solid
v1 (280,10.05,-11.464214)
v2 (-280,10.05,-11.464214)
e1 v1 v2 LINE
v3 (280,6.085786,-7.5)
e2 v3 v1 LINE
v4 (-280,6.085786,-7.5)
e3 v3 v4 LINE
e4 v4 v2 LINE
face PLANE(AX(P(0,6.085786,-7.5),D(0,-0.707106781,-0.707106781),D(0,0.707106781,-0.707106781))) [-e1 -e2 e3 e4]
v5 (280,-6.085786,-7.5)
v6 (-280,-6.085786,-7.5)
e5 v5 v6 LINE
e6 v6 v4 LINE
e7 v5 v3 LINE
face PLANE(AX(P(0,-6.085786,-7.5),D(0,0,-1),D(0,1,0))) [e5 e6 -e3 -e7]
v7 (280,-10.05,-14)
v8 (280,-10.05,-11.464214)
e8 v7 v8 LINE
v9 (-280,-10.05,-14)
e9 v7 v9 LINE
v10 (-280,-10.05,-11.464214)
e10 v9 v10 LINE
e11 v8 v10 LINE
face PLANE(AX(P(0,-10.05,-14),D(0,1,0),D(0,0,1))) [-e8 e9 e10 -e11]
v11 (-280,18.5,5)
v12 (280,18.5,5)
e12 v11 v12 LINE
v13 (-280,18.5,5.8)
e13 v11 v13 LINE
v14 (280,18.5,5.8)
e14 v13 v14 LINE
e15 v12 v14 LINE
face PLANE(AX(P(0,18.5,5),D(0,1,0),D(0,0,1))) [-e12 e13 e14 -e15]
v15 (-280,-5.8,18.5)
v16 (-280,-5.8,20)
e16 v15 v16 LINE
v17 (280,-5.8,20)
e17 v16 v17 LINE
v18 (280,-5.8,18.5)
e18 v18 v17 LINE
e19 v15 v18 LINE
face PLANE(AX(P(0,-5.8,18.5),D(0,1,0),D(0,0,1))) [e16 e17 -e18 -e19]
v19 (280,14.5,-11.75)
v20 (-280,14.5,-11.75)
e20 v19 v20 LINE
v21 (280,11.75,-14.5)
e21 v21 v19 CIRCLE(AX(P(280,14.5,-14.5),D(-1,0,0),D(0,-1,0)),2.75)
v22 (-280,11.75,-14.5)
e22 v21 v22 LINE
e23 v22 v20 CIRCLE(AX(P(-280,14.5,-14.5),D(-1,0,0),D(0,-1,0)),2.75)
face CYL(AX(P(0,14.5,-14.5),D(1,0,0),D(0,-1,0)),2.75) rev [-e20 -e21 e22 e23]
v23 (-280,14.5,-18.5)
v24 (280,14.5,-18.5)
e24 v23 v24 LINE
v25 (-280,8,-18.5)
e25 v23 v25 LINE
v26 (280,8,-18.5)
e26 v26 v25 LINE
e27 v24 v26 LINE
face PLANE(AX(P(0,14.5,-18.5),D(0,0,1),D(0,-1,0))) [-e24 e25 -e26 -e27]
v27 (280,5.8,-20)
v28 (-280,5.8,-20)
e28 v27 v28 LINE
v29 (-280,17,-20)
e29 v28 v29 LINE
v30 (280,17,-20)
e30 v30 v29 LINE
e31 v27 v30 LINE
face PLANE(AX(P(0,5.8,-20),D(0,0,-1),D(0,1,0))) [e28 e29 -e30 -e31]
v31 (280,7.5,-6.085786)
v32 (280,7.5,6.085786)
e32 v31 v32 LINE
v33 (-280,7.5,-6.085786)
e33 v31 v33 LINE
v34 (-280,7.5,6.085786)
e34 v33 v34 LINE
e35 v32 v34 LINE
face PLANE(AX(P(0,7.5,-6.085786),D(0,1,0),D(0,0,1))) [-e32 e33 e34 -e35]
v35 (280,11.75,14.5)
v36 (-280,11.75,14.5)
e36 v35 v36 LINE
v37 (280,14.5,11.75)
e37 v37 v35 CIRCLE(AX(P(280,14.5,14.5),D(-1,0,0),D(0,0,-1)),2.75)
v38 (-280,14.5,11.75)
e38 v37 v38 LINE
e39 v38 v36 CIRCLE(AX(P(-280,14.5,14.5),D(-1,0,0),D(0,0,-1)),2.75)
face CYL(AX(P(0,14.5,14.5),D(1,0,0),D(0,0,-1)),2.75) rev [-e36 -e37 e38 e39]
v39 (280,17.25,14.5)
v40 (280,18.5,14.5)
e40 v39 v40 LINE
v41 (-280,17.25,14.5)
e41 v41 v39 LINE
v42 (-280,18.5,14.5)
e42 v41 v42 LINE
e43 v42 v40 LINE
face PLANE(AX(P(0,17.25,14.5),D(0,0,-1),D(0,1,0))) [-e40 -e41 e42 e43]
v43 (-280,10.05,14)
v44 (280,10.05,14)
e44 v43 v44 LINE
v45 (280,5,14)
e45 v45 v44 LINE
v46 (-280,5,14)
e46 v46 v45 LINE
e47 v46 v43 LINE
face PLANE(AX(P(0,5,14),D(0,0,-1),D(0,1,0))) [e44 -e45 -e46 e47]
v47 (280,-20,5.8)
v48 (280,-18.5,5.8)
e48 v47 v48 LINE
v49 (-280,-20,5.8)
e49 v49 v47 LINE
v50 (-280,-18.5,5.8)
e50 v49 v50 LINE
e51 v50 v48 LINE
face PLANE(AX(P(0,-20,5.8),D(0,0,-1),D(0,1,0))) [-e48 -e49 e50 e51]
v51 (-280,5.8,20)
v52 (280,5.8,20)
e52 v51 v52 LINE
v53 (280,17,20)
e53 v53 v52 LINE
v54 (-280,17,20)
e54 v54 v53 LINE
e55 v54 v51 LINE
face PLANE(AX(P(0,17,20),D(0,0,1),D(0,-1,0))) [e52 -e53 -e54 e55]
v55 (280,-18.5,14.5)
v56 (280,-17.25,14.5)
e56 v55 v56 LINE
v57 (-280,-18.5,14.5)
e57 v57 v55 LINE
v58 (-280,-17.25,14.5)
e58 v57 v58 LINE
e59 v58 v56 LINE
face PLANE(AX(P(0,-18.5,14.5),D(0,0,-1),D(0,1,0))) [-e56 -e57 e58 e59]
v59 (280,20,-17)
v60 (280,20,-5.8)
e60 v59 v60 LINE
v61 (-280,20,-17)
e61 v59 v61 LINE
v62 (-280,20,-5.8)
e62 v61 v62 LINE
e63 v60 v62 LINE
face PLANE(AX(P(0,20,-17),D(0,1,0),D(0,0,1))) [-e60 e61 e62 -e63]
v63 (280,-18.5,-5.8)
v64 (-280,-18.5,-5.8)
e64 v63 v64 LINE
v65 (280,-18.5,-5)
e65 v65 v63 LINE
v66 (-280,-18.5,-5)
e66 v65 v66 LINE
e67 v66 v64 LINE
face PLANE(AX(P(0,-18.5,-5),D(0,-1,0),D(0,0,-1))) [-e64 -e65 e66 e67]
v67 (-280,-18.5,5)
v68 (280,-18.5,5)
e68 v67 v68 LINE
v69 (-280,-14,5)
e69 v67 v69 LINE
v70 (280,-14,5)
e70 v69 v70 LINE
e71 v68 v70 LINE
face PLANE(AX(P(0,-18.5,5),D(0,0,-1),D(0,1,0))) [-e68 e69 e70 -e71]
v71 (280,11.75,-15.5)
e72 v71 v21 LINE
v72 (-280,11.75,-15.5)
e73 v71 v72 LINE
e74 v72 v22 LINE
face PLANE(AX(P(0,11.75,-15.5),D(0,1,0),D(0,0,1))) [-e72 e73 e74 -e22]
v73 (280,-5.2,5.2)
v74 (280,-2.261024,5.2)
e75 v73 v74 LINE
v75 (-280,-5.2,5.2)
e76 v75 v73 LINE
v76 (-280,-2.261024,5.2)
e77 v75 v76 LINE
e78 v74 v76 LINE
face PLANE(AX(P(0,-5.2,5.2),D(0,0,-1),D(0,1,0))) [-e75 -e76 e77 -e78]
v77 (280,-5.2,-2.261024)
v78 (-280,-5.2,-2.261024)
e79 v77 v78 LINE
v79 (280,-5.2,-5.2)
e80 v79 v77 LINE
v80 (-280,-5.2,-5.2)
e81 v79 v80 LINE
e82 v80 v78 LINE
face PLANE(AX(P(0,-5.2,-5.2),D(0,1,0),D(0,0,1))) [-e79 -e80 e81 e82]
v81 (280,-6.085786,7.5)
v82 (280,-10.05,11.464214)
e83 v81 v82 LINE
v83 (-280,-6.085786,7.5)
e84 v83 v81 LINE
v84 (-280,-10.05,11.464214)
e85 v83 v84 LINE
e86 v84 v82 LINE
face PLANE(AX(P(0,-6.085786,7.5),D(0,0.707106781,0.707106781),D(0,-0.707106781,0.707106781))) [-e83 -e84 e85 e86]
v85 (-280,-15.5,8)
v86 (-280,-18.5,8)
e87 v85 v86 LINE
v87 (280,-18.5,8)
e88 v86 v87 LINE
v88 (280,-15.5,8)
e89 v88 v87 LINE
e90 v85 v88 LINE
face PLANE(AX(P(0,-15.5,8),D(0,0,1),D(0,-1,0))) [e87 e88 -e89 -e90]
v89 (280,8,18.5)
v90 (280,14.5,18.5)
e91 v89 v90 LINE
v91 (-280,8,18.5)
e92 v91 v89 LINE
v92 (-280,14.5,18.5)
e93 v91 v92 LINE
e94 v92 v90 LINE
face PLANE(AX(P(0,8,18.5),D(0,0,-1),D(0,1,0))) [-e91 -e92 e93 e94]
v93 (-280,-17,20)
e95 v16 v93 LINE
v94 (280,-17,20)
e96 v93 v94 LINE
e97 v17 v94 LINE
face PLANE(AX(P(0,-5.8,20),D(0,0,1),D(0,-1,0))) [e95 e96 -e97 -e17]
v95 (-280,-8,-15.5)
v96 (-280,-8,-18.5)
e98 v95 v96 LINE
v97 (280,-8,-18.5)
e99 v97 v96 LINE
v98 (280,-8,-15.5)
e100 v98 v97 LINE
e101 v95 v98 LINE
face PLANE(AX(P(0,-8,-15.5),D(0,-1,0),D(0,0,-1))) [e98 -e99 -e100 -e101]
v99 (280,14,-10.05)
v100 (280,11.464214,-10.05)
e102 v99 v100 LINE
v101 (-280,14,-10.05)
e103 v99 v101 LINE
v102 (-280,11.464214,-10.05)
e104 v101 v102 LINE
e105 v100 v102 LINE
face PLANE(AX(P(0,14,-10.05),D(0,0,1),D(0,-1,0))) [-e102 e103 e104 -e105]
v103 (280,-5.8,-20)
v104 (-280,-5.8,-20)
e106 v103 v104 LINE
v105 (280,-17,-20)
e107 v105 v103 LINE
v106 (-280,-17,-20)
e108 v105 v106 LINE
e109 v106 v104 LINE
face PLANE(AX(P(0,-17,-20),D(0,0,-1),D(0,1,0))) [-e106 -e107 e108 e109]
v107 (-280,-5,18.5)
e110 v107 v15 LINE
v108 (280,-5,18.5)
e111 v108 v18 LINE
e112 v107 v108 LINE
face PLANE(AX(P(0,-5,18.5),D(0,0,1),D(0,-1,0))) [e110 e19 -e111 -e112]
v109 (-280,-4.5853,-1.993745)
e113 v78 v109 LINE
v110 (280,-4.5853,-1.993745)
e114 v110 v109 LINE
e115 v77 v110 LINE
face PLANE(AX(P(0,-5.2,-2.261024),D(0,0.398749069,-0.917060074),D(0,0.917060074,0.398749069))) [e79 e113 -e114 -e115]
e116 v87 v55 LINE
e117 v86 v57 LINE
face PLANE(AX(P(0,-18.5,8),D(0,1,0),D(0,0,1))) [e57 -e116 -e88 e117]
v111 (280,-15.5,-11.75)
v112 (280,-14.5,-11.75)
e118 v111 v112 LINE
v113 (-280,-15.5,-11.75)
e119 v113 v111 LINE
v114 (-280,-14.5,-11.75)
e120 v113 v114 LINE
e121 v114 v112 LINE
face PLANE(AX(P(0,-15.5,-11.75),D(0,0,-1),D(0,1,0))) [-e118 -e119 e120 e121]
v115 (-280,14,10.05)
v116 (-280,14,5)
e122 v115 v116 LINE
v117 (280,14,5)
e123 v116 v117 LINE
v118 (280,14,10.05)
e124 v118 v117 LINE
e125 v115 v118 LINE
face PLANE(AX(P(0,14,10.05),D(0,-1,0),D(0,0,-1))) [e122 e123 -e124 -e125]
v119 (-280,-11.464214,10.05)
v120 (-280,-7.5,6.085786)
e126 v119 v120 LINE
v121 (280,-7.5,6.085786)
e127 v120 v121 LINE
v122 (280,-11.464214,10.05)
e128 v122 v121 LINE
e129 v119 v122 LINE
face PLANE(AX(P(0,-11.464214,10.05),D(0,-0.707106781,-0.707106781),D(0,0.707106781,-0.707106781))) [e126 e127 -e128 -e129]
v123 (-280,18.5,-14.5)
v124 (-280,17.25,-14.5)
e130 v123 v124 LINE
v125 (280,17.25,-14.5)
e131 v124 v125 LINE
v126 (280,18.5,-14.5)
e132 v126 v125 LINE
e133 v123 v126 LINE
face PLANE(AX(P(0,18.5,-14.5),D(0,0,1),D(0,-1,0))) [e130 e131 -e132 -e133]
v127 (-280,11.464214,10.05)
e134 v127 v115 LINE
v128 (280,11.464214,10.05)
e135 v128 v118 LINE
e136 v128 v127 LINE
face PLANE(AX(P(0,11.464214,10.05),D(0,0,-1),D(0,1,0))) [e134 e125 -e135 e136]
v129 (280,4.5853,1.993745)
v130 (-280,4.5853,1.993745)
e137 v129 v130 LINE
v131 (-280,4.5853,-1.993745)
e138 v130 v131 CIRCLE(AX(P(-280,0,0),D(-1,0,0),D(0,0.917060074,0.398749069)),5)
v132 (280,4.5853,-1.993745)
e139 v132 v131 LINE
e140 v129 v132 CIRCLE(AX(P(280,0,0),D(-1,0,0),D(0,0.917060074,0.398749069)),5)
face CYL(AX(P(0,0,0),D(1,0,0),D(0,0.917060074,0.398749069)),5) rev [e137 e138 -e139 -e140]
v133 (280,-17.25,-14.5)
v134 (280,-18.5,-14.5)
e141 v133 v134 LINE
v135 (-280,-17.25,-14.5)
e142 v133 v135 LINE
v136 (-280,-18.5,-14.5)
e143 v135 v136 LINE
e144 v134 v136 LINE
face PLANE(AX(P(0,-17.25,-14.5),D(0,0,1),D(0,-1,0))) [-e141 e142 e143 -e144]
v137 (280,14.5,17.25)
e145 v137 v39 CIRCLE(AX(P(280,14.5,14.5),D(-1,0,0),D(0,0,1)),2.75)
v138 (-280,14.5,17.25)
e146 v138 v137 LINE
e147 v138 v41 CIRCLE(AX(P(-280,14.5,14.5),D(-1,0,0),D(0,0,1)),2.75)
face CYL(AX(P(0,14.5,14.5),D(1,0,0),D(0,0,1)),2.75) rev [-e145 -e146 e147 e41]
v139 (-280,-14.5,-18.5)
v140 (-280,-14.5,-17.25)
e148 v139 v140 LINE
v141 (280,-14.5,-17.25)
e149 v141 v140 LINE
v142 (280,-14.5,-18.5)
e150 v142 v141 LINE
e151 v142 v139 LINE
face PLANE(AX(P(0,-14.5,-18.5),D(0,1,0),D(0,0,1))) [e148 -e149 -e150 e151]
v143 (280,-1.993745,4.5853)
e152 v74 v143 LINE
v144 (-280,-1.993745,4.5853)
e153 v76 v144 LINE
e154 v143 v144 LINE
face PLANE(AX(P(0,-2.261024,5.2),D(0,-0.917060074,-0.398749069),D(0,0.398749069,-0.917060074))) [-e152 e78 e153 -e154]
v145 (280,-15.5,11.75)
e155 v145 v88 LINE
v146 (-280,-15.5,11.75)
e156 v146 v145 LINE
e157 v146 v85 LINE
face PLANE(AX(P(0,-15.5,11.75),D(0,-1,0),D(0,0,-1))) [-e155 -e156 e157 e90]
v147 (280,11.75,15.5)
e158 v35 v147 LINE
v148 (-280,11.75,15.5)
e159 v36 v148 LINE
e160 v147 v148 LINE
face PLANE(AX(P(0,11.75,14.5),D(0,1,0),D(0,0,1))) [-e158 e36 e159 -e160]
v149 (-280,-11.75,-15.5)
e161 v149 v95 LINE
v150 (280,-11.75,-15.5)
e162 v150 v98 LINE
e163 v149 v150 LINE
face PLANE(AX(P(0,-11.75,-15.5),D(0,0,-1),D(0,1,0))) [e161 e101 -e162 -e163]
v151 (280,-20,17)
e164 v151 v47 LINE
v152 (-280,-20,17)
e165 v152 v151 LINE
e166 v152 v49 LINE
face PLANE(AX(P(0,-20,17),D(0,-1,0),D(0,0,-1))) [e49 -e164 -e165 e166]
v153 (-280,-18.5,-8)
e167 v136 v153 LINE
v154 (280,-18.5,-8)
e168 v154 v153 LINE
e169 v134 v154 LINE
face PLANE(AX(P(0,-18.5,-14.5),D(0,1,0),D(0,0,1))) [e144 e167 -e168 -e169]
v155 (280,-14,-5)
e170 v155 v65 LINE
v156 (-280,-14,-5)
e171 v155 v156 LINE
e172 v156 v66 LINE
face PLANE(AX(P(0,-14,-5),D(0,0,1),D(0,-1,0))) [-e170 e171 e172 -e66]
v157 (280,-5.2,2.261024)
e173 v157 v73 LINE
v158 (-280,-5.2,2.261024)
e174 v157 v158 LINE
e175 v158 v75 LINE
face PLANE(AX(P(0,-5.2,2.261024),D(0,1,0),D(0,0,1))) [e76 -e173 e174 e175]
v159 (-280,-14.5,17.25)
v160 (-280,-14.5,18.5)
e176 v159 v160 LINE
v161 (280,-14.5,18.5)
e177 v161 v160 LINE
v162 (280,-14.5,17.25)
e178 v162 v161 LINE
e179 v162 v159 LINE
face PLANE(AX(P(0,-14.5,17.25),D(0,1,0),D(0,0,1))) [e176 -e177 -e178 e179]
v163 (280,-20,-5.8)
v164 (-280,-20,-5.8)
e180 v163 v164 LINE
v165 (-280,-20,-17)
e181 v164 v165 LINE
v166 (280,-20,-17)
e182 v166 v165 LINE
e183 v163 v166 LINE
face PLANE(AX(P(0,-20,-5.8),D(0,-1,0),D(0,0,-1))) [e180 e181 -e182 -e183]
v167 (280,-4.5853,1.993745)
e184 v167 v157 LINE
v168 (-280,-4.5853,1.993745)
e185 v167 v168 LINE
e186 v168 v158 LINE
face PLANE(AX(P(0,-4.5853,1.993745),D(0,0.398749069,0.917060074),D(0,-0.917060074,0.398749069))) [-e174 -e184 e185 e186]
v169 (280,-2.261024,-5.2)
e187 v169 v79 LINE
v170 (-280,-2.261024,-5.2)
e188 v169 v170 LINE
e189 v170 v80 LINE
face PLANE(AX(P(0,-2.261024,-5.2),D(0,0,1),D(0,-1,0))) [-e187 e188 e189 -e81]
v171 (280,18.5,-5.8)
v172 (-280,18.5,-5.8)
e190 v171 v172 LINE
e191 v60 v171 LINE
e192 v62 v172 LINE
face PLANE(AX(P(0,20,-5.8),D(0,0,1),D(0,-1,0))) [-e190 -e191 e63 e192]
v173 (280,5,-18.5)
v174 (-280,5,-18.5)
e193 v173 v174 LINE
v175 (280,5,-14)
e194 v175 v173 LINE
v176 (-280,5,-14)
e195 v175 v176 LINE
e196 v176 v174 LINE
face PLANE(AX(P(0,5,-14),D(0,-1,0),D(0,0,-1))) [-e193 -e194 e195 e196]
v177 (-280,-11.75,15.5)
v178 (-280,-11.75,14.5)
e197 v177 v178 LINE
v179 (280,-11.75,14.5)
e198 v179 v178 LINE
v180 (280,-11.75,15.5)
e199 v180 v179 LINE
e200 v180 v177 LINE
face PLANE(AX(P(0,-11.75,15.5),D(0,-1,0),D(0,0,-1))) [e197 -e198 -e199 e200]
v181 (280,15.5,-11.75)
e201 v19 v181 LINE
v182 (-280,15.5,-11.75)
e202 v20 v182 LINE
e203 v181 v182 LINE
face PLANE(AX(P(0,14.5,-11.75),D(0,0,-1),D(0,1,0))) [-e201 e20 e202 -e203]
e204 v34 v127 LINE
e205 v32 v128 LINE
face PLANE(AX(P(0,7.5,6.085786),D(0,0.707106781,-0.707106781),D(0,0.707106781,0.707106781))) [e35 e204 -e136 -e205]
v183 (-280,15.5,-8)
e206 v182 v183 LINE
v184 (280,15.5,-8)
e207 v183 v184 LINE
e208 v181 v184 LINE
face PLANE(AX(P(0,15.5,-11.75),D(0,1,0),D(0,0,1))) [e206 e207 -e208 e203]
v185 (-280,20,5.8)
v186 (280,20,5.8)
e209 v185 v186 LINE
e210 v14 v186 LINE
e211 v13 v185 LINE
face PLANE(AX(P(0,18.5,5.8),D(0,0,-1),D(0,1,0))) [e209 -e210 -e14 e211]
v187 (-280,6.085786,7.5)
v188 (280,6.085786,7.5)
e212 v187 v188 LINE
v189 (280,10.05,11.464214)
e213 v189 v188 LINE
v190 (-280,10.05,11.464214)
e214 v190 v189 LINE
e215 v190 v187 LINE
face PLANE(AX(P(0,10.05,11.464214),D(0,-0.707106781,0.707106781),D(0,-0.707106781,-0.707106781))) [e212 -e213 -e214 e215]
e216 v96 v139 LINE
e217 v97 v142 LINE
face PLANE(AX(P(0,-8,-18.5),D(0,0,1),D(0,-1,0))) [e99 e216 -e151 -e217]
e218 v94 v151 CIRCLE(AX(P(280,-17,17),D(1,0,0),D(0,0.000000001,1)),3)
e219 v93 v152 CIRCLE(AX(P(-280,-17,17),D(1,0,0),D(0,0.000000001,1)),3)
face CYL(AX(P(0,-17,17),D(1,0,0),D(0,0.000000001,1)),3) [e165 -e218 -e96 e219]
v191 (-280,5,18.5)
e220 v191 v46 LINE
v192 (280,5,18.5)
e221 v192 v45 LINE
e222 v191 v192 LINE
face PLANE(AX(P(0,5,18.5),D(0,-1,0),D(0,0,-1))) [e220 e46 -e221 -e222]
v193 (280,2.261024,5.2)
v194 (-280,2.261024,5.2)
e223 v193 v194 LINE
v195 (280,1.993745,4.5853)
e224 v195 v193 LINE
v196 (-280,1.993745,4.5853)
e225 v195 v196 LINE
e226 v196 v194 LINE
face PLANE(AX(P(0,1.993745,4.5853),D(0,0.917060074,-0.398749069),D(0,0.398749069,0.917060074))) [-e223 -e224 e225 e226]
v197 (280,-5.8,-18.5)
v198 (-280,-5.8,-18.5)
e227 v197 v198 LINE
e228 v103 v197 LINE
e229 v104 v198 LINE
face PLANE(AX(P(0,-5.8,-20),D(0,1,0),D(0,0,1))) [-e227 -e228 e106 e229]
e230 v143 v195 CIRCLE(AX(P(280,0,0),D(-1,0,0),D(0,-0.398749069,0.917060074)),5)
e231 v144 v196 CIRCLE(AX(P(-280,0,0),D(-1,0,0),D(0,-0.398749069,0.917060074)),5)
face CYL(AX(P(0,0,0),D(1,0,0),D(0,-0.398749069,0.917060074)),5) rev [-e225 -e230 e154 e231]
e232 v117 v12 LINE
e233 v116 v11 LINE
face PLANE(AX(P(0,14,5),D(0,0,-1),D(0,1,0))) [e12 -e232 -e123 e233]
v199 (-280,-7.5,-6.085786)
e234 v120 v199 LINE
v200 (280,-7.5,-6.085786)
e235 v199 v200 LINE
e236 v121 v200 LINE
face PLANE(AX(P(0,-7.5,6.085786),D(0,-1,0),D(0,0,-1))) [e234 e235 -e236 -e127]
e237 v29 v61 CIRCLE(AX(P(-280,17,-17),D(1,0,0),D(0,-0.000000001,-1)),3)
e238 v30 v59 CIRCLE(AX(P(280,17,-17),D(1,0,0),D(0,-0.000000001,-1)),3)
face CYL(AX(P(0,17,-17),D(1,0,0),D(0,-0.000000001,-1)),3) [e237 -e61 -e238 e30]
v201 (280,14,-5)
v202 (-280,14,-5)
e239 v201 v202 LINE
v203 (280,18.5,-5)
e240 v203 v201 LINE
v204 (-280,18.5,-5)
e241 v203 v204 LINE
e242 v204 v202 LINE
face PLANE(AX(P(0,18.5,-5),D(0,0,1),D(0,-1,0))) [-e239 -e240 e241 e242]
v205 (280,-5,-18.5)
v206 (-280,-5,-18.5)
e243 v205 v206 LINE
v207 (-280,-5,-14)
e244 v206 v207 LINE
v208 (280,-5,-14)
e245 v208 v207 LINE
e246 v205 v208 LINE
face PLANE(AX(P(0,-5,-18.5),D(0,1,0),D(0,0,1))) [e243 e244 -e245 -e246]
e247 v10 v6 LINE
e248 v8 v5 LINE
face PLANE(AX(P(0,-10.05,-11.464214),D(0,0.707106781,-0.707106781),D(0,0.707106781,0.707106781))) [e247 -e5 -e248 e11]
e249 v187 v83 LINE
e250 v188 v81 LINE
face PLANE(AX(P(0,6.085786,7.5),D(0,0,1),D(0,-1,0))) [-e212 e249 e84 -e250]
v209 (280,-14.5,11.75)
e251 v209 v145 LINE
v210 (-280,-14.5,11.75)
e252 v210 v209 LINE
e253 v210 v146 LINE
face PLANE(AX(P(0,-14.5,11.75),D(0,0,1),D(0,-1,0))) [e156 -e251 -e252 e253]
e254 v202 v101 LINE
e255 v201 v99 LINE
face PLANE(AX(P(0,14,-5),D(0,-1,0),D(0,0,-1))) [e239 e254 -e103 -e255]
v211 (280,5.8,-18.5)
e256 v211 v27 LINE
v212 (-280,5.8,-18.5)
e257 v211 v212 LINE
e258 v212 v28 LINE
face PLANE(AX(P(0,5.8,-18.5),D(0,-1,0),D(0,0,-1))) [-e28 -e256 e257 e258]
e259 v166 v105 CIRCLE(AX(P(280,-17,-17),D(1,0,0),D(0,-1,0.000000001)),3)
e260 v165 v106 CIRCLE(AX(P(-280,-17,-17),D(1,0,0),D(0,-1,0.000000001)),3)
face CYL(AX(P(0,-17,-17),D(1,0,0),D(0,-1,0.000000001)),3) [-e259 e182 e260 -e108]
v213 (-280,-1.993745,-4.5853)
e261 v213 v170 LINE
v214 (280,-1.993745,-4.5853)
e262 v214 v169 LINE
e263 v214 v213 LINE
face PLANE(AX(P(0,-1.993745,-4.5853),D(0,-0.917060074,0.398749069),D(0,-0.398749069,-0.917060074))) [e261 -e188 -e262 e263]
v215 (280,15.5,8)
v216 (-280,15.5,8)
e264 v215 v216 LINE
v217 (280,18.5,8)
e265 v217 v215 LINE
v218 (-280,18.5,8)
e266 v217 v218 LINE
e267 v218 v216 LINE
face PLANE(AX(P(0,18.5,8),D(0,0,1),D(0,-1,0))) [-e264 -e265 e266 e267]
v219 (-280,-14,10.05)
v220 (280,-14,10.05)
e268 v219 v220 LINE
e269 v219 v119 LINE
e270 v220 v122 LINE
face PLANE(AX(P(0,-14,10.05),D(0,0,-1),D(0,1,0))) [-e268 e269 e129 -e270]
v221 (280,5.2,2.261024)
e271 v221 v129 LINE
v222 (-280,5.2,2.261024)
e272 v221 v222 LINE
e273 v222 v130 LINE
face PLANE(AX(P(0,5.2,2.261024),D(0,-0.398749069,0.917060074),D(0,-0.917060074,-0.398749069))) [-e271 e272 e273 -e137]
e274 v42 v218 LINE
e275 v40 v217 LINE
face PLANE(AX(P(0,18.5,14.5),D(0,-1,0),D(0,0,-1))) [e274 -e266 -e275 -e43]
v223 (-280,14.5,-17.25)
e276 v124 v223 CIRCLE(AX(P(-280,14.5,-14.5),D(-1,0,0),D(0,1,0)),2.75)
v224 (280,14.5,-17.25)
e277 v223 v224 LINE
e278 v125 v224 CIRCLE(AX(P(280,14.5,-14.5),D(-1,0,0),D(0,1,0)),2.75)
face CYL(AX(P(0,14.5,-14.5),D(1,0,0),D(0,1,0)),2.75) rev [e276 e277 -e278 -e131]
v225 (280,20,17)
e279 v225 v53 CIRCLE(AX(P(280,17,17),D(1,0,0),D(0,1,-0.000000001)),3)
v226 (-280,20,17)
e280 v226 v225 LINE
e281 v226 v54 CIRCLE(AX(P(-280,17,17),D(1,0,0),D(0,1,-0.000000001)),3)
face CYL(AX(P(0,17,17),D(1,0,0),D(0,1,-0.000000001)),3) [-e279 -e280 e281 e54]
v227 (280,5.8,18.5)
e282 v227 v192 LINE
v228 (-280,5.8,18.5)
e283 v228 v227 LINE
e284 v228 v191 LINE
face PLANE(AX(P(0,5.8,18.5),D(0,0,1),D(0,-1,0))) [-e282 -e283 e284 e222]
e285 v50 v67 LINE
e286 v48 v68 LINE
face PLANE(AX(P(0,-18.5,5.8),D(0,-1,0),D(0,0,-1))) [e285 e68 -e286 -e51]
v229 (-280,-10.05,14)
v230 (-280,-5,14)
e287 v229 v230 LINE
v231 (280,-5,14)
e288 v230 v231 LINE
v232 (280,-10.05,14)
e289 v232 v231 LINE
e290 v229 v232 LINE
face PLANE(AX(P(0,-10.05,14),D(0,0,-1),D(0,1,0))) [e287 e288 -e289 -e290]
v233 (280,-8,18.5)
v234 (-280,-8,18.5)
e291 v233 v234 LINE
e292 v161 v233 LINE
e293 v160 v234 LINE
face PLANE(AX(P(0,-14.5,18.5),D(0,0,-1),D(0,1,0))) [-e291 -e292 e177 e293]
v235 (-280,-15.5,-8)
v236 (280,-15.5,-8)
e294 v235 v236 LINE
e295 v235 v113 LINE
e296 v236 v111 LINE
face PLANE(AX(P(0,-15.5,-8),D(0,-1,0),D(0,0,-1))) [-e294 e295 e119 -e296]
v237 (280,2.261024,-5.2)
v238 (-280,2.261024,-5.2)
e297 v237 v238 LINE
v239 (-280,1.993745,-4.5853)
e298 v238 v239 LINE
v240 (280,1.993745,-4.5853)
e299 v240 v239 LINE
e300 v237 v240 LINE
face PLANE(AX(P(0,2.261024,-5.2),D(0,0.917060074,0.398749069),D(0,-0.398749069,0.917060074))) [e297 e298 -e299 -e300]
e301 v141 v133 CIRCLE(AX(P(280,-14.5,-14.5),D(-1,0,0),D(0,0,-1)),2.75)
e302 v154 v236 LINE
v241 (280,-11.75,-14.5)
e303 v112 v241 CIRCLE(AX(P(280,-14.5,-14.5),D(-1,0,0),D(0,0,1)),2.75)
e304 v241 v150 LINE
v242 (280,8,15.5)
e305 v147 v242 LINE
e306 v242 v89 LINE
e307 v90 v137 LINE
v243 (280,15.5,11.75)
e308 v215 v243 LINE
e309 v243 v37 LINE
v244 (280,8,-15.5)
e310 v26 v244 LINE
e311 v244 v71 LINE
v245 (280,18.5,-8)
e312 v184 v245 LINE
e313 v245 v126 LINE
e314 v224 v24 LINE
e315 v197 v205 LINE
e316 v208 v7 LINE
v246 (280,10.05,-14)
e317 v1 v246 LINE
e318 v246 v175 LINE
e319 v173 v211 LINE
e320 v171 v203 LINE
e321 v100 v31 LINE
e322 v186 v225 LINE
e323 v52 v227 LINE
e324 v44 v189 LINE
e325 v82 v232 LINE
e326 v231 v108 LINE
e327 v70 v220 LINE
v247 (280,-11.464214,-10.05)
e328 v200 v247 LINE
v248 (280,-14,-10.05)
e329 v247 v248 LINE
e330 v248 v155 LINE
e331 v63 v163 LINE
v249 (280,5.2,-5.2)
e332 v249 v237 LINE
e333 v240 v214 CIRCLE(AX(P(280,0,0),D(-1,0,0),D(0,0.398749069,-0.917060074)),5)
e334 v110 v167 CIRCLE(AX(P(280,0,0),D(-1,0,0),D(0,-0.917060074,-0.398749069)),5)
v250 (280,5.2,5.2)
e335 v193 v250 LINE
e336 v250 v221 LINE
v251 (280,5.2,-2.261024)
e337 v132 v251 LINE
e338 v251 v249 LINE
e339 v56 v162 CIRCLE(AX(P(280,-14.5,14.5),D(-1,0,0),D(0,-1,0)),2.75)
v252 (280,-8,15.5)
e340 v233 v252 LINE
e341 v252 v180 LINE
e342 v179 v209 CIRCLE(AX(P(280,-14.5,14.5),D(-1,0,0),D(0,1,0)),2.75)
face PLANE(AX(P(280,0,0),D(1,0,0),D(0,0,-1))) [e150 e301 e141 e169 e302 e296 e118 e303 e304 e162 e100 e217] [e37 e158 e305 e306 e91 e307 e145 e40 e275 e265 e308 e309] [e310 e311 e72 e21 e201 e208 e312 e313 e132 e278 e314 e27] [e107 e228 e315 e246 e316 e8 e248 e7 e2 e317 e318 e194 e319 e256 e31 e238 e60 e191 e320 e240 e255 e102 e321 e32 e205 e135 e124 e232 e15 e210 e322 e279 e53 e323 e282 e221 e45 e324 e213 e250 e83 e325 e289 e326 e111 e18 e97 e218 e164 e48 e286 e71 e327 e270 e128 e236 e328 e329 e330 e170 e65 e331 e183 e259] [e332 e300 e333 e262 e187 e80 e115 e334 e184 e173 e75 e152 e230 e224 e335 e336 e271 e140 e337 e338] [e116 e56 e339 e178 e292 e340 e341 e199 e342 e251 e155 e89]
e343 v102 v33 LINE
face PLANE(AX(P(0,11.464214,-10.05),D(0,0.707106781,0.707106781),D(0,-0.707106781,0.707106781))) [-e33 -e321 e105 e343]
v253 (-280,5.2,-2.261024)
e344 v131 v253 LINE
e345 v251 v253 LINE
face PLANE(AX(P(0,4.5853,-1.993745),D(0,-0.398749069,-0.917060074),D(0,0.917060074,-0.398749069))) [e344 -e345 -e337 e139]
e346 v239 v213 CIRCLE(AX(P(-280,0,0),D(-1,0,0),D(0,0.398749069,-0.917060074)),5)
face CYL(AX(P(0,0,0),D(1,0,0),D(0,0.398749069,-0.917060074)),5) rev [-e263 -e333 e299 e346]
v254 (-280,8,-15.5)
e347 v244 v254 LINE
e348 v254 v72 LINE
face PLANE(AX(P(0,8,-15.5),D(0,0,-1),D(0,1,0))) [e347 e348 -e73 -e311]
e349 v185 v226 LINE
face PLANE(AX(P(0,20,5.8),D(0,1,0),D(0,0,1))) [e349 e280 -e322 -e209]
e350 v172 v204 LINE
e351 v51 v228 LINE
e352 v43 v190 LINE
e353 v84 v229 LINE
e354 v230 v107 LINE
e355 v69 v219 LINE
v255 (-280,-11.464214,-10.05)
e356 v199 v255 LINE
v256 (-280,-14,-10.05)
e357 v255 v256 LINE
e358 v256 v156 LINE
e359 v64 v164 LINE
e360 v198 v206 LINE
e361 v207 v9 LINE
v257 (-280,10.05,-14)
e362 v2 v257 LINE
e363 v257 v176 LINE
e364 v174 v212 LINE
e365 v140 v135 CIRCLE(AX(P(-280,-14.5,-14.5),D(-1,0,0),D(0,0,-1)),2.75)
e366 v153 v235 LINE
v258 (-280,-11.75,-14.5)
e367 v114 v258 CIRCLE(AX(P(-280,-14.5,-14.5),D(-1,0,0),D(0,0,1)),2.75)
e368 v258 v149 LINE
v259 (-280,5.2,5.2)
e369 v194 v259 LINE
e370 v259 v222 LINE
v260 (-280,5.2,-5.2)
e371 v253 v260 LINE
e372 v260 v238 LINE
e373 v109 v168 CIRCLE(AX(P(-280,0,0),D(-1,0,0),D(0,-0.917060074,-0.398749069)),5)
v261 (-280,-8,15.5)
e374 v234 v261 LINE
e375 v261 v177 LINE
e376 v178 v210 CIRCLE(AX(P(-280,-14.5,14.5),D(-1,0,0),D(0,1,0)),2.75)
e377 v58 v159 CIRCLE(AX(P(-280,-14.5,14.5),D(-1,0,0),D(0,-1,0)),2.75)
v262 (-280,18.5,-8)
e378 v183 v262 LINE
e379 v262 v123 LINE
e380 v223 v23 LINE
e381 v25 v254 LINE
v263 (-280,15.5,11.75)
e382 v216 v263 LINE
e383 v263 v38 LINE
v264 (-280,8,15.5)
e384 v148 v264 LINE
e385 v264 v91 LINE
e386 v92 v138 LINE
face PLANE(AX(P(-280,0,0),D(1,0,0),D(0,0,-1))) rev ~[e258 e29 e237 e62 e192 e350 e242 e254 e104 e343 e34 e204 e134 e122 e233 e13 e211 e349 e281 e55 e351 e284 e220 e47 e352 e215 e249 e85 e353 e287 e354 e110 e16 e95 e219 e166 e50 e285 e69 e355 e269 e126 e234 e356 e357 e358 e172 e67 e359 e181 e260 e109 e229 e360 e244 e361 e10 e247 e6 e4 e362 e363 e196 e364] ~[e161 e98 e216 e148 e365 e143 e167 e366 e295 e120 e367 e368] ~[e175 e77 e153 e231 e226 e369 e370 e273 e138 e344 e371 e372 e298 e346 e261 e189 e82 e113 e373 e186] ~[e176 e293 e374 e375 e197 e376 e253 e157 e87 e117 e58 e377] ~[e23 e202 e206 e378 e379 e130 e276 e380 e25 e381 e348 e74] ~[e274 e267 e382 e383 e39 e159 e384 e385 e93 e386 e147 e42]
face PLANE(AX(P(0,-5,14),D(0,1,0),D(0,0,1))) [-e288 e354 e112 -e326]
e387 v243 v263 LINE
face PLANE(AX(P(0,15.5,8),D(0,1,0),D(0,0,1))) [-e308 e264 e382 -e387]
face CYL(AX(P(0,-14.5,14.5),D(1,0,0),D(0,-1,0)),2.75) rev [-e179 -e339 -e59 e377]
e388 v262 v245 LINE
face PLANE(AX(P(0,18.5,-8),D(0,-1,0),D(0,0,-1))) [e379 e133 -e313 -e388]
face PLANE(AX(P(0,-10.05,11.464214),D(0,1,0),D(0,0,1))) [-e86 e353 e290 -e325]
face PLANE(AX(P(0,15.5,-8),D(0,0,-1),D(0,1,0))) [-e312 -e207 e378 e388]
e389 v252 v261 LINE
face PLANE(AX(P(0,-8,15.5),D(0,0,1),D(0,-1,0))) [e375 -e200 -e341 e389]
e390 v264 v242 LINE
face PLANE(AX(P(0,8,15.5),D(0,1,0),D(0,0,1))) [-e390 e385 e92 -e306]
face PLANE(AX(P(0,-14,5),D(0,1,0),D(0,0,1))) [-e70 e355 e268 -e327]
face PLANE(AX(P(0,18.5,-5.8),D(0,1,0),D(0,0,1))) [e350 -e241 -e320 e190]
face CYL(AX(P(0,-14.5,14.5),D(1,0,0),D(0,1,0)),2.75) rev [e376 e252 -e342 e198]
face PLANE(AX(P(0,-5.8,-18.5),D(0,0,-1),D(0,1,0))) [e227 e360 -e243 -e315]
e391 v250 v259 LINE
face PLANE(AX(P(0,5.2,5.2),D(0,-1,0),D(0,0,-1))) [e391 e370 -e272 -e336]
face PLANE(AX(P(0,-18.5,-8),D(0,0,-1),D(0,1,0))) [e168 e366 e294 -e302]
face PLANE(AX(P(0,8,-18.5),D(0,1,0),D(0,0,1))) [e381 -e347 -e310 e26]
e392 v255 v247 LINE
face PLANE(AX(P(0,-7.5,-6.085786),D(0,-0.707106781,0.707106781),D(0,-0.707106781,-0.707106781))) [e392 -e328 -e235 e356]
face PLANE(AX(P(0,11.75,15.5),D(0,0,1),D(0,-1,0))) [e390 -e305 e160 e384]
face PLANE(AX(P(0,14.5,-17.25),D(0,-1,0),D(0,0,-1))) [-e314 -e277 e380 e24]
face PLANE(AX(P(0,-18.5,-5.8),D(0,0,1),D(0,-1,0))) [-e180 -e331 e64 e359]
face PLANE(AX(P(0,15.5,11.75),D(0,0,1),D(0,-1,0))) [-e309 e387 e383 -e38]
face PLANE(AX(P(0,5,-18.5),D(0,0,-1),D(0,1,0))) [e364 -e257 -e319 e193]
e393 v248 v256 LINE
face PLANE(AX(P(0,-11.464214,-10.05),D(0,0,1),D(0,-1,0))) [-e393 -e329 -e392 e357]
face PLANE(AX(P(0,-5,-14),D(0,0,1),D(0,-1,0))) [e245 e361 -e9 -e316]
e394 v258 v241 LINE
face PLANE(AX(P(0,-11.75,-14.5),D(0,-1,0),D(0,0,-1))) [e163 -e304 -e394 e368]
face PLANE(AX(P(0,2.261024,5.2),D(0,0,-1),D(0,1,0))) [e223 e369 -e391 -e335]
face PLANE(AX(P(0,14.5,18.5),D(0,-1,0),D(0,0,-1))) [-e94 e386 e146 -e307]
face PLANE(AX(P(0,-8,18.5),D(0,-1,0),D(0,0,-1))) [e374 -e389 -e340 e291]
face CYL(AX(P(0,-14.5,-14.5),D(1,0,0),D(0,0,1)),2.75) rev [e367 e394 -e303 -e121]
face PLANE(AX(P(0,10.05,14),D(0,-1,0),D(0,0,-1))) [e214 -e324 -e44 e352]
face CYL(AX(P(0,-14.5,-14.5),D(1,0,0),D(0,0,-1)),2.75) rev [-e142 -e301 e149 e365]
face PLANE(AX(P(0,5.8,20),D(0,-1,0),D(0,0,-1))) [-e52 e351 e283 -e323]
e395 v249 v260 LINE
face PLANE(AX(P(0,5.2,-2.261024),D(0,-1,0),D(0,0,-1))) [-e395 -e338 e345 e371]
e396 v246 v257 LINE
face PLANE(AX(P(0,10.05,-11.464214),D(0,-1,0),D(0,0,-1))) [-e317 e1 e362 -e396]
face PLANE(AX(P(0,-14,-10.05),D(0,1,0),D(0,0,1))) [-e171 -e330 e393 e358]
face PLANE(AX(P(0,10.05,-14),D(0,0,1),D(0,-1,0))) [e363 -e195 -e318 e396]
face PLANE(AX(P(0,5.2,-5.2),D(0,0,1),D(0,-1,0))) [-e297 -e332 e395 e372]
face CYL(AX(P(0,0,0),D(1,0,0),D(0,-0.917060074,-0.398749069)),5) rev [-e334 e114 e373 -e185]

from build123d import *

# Parameters (mm, degrees)
BR_EXTRUDE_DEPTH      = 280
BR_EXTRUDE_DEPTH_BACK = 280


with BuildPart() as part:
    # Sketch2 → BR_Extrude (new body, two sides)
    with BuildSketch(Plane(origin=(0, 0, 0), x_dir=(0, 0, -1), z_dir=(1, 0, 0))) as br_extrude_sk:
        with BuildLine():
            Line((-10.05, 11.464213562), (-10.05, 14))
            Line((-10.05, 14), (-5, 14))
            Line((-5, 14), (-5, 18.5))
            Line((-5, 18.5), (-5.8, 18.5))
            Line((-5.8, 18.5), (-5.8, 20))
            Line((-5.8, 20), (-17, 20))
            ThreePointArc((-17, 20), (-19.121320344, 19.121320344), (-20, 17))
            Line((-20, 17), (-20, 5.8))
            Line((-20, 5.8), (-18.5, 5.8))
            Line((-18.5, 5.8), (-18.5, 5))
            Line((-18.5, 5), (-14, 5))
            Line((-14, 5), (-14, 10.05))
            Line((-14, 10.05), (-11.464213562, 10.05))
            Line((-11.464213562, 10.05), (-7.5, 6.085786438))
            Line((-7.5, 6.085786438), (-7.5, -6.085786438))
            Line((-7.5, -6.085786438), (-11.464213562, -10.05))
            Line((-11.464213562, -10.05), (-14, -10.05))
            Line((-14, -10.05), (-14, -5))
            Line((-14, -5), (-18.5, -5))
            Line((-18.5, -5), (-18.5, -5.8))
            Line((-18.5, -5.8), (-20, -5.8))
            Line((-20, -5.8), (-20, -17))
            ThreePointArc((-20, -17), (-19.121320344, -19.121320344), (-17, -20))
            Line((-17, -20), (-5.8, -20))
            Line((-5.8, -20), (-5.8, -18.5))
            Line((-5.8, -18.5), (-5, -18.5))
            Line((-5, -18.5), (-5, -14))
            Line((-5, -14), (-10.05, -14))
            Line((-10.05, -14), (-10.05, -11.464213562))
            Line((-10.05, -11.464213562), (-6.085786438, -7.5))
            Line((-6.085786438, -7.5), (6.085786438, -7.5))
            Line((6.085786438, -7.5), (10.05, -11.464213562))
            Line((10.05, -11.464213562), (10.05, -14))
            Line((10.05, -14), (5, -14))
            Line((5, -14), (5, -18.5))
            Line((5, -18.5), (5.8, -18.5))
            Line((5.8, -18.5), (5.8, -20))
            Line((5.8, -20), (17, -20))
            ThreePointArc((17, -20), (19.121320344, -19.121320344), (20, -17))
            Line((20, -17), (20, -5.8))
            Line((20, -5.8), (18.5, -5.8))
            Line((18.5, -5.8), (18.5, -5))
            Line((18.5, -5), (14, -5))
            Line((14, -5), (14, -10.05))
            Line((14, -10.05), (11.464213562, -10.05))
            Line((11.464213562, -10.05), (7.5, -6.085786438))
            Line((7.5, -6.085786438), (7.5, 6.085786438))
            Line((7.5, 6.085786438), (11.464213562, 10.05))
            Line((11.464213562, 10.05), (14, 10.05))
            Line((14, 10.05), (14, 5))
            Line((14, 5), (18.5, 5))
            Line((18.5, 5), (18.5, 5.8))
            Line((18.5, 5.8), (20, 5.8))
            Line((20, 5.8), (20, 17))
            ThreePointArc((20, 17), (19.121320344, 19.121320344), (17, 20))
            Line((17, 20), (5.8, 20))
            Line((5.8, 20), (5.8, 18.5))
            Line((5.8, 18.5), (5, 18.5))
            Line((5, 18.5), (5, 14))
            Line((5, 14), (10.05, 14))
            Line((10.05, 14), (10.05, 11.464213562))
            Line((10.05, 11.464213562), (6.085786438, 7.5))
            Line((6.085786438, 7.5), (-6.085786438, 7.5))
            Line((-6.085786438, 7.5), (-10.05, 11.464213562))
        make_face()
        with BuildLine():
            Line((8, 15.5), (8, 18.5))
            Line((8, 18.5), (14.5, 18.5))
            Line((14.5, 18.5), (14.5, 17.25))
            ThreePointArc((14.5, 17.25), (16.444543648, 16.444543648), (17.25, 14.5))
            Line((17.25, 14.5), (18.5, 14.5))
            Line((18.5, 14.5), (18.5, 8))
            Line((18.5, 8), (15.5, 8))
            Line((15.5, 8), (15.5, 11.75))
            Line((15.5, 11.75), (14.5, 11.75))
            ThreePointArc((14.5, 11.75), (12.555456352, 12.555456352), (11.75, 14.5))
            Line((11.75, 14.5), (11.75, 15.5))
            Line((11.75, 15.5), (8, 15.5))
        make_face(mode=Mode.SUBTRACT)
        with BuildLine():
            Line((8, -15.5), (11.75, -15.5))
            Line((11.75, -15.5), (11.75, -14.5))
            ThreePointArc((11.75, -14.5), (12.555456352, -12.555456352), (14.5, -11.75))
            Line((14.5, -11.75), (15.5, -11.75))
            Line((15.5, -11.75), (15.5, -8))
            Line((15.5, -8), (18.5, -8))
            Line((18.5, -8), (18.5, -14.5))
            Line((18.5, -14.5), (17.25, -14.5))
            ThreePointArc((17.25, -14.5), (16.444543648, -16.444543648), (14.5, -17.25))
            Line((14.5, -17.25), (14.5, -18.5))
            Line((14.5, -18.5), (8, -18.5))
            Line((8, -18.5), (8, -15.5))
        make_face(mode=Mode.SUBTRACT)
        with BuildLine():
            Line((-15.5, 8), (-18.5, 8))
            Line((-18.5, 8), (-18.5, 14.5))
            Line((-18.5, 14.5), (-17.25, 14.5))
            ThreePointArc((-17.25, 14.5), (-16.444543648, 16.444543648), (-14.5, 17.25))
            Line((-14.5, 17.25), (-14.5, 18.5))
            Line((-14.5, 18.5), (-8, 18.5))
            Line((-8, 18.5), (-8, 15.5))
            Line((-8, 15.5), (-11.75, 15.5))
            Line((-11.75, 15.5), (-11.75, 14.5))
            ThreePointArc((-11.75, 14.5), (-12.555456352, 12.555456352), (-14.5, 11.75))
            Line((-14.5, 11.75), (-15.5, 11.75))
            Line((-15.5, 11.75), (-15.5, 8))
        make_face(mode=Mode.SUBTRACT)
        with BuildLine():
            Line((-11.75, -14.5), (-11.75, -15.5))
            Line((-11.75, -15.5), (-8, -15.5))
            Line((-8, -15.5), (-8, -18.5))
            Line((-8, -18.5), (-14.5, -18.5))
            Line((-14.5, -18.5), (-14.5, -17.25))
            ThreePointArc((-14.5, -17.25), (-16.444543648, -16.444543648), (-17.25, -14.5))
            Line((-17.25, -14.5), (-18.5, -14.5))
            Line((-18.5, -14.5), (-18.5, -8))
            Line((-18.5, -8), (-15.5, -8))
            Line((-15.5, -8), (-15.5, -11.75))
            Line((-15.5, -11.75), (-14.5, -11.75))
            ThreePointArc((-14.5, -11.75), (-12.555456352, -12.555456352), (-11.75, -14.5))
        make_face(mode=Mode.SUBTRACT)
        with BuildLine():
            Line((-5.2, -5.2), (-5.2, -2.26102435))
            Line((-5.2, -2.26102435), (-4.585300372, -1.993745345))
            ThreePointArc((-4.585300372, -1.993745345), (-5, 0), (-4.585300372, 1.993745345))
            Line((-4.585300372, 1.993745345), (-5.2, 2.26102435))
            Line((-5.2, 2.26102435), (-5.2, 5.2))
            Line((-5.2, 5.2), (-2.26102435, 5.2))
            Line((-2.26102435, 5.2), (-1.993745345, 4.585300372))
            ThreePointArc((-1.993745345, 4.585300372), (0, 5), (1.993745345, 4.585300372))
            Line((1.993745345, 4.585300372), (2.26102435, 5.2))
            Line((2.26102435, 5.2), (5.2, 5.2))
            Line((5.2, 5.2), (5.2, 2.26102435))
            Line((5.2, 2.26102435), (4.585300372, 1.993745345))
            ThreePointArc((4.585300372, 1.993745345), (5, 0), (4.585300372, -1.993745345))
            Line((4.585300372, -1.993745345), (5.2, -2.26102435))
            Line((5.2, -2.26102435), (5.2, -5.2))
            Line((5.2, -5.2), (2.26102435, -5.2))
            Line((2.26102435, -5.2), (1.993745345, -4.585300372))
            ThreePointArc((1.993745345, -4.585300372), (0, -5), (-1.993745345, -4.585300372))
            Line((-1.993745345, -4.585300372), (-2.26102435, -5.2))
            Line((-2.26102435, -5.2), (-5.2, -5.2))
        make_face(mode=Mode.SUBTRACT)
    extrude(amount=BR_EXTRUDE_DEPTH)
    extrude(br_extrude_sk.sketch, amount=-BR_EXTRUDE_DEPTH_BACK)


solid = part.part
